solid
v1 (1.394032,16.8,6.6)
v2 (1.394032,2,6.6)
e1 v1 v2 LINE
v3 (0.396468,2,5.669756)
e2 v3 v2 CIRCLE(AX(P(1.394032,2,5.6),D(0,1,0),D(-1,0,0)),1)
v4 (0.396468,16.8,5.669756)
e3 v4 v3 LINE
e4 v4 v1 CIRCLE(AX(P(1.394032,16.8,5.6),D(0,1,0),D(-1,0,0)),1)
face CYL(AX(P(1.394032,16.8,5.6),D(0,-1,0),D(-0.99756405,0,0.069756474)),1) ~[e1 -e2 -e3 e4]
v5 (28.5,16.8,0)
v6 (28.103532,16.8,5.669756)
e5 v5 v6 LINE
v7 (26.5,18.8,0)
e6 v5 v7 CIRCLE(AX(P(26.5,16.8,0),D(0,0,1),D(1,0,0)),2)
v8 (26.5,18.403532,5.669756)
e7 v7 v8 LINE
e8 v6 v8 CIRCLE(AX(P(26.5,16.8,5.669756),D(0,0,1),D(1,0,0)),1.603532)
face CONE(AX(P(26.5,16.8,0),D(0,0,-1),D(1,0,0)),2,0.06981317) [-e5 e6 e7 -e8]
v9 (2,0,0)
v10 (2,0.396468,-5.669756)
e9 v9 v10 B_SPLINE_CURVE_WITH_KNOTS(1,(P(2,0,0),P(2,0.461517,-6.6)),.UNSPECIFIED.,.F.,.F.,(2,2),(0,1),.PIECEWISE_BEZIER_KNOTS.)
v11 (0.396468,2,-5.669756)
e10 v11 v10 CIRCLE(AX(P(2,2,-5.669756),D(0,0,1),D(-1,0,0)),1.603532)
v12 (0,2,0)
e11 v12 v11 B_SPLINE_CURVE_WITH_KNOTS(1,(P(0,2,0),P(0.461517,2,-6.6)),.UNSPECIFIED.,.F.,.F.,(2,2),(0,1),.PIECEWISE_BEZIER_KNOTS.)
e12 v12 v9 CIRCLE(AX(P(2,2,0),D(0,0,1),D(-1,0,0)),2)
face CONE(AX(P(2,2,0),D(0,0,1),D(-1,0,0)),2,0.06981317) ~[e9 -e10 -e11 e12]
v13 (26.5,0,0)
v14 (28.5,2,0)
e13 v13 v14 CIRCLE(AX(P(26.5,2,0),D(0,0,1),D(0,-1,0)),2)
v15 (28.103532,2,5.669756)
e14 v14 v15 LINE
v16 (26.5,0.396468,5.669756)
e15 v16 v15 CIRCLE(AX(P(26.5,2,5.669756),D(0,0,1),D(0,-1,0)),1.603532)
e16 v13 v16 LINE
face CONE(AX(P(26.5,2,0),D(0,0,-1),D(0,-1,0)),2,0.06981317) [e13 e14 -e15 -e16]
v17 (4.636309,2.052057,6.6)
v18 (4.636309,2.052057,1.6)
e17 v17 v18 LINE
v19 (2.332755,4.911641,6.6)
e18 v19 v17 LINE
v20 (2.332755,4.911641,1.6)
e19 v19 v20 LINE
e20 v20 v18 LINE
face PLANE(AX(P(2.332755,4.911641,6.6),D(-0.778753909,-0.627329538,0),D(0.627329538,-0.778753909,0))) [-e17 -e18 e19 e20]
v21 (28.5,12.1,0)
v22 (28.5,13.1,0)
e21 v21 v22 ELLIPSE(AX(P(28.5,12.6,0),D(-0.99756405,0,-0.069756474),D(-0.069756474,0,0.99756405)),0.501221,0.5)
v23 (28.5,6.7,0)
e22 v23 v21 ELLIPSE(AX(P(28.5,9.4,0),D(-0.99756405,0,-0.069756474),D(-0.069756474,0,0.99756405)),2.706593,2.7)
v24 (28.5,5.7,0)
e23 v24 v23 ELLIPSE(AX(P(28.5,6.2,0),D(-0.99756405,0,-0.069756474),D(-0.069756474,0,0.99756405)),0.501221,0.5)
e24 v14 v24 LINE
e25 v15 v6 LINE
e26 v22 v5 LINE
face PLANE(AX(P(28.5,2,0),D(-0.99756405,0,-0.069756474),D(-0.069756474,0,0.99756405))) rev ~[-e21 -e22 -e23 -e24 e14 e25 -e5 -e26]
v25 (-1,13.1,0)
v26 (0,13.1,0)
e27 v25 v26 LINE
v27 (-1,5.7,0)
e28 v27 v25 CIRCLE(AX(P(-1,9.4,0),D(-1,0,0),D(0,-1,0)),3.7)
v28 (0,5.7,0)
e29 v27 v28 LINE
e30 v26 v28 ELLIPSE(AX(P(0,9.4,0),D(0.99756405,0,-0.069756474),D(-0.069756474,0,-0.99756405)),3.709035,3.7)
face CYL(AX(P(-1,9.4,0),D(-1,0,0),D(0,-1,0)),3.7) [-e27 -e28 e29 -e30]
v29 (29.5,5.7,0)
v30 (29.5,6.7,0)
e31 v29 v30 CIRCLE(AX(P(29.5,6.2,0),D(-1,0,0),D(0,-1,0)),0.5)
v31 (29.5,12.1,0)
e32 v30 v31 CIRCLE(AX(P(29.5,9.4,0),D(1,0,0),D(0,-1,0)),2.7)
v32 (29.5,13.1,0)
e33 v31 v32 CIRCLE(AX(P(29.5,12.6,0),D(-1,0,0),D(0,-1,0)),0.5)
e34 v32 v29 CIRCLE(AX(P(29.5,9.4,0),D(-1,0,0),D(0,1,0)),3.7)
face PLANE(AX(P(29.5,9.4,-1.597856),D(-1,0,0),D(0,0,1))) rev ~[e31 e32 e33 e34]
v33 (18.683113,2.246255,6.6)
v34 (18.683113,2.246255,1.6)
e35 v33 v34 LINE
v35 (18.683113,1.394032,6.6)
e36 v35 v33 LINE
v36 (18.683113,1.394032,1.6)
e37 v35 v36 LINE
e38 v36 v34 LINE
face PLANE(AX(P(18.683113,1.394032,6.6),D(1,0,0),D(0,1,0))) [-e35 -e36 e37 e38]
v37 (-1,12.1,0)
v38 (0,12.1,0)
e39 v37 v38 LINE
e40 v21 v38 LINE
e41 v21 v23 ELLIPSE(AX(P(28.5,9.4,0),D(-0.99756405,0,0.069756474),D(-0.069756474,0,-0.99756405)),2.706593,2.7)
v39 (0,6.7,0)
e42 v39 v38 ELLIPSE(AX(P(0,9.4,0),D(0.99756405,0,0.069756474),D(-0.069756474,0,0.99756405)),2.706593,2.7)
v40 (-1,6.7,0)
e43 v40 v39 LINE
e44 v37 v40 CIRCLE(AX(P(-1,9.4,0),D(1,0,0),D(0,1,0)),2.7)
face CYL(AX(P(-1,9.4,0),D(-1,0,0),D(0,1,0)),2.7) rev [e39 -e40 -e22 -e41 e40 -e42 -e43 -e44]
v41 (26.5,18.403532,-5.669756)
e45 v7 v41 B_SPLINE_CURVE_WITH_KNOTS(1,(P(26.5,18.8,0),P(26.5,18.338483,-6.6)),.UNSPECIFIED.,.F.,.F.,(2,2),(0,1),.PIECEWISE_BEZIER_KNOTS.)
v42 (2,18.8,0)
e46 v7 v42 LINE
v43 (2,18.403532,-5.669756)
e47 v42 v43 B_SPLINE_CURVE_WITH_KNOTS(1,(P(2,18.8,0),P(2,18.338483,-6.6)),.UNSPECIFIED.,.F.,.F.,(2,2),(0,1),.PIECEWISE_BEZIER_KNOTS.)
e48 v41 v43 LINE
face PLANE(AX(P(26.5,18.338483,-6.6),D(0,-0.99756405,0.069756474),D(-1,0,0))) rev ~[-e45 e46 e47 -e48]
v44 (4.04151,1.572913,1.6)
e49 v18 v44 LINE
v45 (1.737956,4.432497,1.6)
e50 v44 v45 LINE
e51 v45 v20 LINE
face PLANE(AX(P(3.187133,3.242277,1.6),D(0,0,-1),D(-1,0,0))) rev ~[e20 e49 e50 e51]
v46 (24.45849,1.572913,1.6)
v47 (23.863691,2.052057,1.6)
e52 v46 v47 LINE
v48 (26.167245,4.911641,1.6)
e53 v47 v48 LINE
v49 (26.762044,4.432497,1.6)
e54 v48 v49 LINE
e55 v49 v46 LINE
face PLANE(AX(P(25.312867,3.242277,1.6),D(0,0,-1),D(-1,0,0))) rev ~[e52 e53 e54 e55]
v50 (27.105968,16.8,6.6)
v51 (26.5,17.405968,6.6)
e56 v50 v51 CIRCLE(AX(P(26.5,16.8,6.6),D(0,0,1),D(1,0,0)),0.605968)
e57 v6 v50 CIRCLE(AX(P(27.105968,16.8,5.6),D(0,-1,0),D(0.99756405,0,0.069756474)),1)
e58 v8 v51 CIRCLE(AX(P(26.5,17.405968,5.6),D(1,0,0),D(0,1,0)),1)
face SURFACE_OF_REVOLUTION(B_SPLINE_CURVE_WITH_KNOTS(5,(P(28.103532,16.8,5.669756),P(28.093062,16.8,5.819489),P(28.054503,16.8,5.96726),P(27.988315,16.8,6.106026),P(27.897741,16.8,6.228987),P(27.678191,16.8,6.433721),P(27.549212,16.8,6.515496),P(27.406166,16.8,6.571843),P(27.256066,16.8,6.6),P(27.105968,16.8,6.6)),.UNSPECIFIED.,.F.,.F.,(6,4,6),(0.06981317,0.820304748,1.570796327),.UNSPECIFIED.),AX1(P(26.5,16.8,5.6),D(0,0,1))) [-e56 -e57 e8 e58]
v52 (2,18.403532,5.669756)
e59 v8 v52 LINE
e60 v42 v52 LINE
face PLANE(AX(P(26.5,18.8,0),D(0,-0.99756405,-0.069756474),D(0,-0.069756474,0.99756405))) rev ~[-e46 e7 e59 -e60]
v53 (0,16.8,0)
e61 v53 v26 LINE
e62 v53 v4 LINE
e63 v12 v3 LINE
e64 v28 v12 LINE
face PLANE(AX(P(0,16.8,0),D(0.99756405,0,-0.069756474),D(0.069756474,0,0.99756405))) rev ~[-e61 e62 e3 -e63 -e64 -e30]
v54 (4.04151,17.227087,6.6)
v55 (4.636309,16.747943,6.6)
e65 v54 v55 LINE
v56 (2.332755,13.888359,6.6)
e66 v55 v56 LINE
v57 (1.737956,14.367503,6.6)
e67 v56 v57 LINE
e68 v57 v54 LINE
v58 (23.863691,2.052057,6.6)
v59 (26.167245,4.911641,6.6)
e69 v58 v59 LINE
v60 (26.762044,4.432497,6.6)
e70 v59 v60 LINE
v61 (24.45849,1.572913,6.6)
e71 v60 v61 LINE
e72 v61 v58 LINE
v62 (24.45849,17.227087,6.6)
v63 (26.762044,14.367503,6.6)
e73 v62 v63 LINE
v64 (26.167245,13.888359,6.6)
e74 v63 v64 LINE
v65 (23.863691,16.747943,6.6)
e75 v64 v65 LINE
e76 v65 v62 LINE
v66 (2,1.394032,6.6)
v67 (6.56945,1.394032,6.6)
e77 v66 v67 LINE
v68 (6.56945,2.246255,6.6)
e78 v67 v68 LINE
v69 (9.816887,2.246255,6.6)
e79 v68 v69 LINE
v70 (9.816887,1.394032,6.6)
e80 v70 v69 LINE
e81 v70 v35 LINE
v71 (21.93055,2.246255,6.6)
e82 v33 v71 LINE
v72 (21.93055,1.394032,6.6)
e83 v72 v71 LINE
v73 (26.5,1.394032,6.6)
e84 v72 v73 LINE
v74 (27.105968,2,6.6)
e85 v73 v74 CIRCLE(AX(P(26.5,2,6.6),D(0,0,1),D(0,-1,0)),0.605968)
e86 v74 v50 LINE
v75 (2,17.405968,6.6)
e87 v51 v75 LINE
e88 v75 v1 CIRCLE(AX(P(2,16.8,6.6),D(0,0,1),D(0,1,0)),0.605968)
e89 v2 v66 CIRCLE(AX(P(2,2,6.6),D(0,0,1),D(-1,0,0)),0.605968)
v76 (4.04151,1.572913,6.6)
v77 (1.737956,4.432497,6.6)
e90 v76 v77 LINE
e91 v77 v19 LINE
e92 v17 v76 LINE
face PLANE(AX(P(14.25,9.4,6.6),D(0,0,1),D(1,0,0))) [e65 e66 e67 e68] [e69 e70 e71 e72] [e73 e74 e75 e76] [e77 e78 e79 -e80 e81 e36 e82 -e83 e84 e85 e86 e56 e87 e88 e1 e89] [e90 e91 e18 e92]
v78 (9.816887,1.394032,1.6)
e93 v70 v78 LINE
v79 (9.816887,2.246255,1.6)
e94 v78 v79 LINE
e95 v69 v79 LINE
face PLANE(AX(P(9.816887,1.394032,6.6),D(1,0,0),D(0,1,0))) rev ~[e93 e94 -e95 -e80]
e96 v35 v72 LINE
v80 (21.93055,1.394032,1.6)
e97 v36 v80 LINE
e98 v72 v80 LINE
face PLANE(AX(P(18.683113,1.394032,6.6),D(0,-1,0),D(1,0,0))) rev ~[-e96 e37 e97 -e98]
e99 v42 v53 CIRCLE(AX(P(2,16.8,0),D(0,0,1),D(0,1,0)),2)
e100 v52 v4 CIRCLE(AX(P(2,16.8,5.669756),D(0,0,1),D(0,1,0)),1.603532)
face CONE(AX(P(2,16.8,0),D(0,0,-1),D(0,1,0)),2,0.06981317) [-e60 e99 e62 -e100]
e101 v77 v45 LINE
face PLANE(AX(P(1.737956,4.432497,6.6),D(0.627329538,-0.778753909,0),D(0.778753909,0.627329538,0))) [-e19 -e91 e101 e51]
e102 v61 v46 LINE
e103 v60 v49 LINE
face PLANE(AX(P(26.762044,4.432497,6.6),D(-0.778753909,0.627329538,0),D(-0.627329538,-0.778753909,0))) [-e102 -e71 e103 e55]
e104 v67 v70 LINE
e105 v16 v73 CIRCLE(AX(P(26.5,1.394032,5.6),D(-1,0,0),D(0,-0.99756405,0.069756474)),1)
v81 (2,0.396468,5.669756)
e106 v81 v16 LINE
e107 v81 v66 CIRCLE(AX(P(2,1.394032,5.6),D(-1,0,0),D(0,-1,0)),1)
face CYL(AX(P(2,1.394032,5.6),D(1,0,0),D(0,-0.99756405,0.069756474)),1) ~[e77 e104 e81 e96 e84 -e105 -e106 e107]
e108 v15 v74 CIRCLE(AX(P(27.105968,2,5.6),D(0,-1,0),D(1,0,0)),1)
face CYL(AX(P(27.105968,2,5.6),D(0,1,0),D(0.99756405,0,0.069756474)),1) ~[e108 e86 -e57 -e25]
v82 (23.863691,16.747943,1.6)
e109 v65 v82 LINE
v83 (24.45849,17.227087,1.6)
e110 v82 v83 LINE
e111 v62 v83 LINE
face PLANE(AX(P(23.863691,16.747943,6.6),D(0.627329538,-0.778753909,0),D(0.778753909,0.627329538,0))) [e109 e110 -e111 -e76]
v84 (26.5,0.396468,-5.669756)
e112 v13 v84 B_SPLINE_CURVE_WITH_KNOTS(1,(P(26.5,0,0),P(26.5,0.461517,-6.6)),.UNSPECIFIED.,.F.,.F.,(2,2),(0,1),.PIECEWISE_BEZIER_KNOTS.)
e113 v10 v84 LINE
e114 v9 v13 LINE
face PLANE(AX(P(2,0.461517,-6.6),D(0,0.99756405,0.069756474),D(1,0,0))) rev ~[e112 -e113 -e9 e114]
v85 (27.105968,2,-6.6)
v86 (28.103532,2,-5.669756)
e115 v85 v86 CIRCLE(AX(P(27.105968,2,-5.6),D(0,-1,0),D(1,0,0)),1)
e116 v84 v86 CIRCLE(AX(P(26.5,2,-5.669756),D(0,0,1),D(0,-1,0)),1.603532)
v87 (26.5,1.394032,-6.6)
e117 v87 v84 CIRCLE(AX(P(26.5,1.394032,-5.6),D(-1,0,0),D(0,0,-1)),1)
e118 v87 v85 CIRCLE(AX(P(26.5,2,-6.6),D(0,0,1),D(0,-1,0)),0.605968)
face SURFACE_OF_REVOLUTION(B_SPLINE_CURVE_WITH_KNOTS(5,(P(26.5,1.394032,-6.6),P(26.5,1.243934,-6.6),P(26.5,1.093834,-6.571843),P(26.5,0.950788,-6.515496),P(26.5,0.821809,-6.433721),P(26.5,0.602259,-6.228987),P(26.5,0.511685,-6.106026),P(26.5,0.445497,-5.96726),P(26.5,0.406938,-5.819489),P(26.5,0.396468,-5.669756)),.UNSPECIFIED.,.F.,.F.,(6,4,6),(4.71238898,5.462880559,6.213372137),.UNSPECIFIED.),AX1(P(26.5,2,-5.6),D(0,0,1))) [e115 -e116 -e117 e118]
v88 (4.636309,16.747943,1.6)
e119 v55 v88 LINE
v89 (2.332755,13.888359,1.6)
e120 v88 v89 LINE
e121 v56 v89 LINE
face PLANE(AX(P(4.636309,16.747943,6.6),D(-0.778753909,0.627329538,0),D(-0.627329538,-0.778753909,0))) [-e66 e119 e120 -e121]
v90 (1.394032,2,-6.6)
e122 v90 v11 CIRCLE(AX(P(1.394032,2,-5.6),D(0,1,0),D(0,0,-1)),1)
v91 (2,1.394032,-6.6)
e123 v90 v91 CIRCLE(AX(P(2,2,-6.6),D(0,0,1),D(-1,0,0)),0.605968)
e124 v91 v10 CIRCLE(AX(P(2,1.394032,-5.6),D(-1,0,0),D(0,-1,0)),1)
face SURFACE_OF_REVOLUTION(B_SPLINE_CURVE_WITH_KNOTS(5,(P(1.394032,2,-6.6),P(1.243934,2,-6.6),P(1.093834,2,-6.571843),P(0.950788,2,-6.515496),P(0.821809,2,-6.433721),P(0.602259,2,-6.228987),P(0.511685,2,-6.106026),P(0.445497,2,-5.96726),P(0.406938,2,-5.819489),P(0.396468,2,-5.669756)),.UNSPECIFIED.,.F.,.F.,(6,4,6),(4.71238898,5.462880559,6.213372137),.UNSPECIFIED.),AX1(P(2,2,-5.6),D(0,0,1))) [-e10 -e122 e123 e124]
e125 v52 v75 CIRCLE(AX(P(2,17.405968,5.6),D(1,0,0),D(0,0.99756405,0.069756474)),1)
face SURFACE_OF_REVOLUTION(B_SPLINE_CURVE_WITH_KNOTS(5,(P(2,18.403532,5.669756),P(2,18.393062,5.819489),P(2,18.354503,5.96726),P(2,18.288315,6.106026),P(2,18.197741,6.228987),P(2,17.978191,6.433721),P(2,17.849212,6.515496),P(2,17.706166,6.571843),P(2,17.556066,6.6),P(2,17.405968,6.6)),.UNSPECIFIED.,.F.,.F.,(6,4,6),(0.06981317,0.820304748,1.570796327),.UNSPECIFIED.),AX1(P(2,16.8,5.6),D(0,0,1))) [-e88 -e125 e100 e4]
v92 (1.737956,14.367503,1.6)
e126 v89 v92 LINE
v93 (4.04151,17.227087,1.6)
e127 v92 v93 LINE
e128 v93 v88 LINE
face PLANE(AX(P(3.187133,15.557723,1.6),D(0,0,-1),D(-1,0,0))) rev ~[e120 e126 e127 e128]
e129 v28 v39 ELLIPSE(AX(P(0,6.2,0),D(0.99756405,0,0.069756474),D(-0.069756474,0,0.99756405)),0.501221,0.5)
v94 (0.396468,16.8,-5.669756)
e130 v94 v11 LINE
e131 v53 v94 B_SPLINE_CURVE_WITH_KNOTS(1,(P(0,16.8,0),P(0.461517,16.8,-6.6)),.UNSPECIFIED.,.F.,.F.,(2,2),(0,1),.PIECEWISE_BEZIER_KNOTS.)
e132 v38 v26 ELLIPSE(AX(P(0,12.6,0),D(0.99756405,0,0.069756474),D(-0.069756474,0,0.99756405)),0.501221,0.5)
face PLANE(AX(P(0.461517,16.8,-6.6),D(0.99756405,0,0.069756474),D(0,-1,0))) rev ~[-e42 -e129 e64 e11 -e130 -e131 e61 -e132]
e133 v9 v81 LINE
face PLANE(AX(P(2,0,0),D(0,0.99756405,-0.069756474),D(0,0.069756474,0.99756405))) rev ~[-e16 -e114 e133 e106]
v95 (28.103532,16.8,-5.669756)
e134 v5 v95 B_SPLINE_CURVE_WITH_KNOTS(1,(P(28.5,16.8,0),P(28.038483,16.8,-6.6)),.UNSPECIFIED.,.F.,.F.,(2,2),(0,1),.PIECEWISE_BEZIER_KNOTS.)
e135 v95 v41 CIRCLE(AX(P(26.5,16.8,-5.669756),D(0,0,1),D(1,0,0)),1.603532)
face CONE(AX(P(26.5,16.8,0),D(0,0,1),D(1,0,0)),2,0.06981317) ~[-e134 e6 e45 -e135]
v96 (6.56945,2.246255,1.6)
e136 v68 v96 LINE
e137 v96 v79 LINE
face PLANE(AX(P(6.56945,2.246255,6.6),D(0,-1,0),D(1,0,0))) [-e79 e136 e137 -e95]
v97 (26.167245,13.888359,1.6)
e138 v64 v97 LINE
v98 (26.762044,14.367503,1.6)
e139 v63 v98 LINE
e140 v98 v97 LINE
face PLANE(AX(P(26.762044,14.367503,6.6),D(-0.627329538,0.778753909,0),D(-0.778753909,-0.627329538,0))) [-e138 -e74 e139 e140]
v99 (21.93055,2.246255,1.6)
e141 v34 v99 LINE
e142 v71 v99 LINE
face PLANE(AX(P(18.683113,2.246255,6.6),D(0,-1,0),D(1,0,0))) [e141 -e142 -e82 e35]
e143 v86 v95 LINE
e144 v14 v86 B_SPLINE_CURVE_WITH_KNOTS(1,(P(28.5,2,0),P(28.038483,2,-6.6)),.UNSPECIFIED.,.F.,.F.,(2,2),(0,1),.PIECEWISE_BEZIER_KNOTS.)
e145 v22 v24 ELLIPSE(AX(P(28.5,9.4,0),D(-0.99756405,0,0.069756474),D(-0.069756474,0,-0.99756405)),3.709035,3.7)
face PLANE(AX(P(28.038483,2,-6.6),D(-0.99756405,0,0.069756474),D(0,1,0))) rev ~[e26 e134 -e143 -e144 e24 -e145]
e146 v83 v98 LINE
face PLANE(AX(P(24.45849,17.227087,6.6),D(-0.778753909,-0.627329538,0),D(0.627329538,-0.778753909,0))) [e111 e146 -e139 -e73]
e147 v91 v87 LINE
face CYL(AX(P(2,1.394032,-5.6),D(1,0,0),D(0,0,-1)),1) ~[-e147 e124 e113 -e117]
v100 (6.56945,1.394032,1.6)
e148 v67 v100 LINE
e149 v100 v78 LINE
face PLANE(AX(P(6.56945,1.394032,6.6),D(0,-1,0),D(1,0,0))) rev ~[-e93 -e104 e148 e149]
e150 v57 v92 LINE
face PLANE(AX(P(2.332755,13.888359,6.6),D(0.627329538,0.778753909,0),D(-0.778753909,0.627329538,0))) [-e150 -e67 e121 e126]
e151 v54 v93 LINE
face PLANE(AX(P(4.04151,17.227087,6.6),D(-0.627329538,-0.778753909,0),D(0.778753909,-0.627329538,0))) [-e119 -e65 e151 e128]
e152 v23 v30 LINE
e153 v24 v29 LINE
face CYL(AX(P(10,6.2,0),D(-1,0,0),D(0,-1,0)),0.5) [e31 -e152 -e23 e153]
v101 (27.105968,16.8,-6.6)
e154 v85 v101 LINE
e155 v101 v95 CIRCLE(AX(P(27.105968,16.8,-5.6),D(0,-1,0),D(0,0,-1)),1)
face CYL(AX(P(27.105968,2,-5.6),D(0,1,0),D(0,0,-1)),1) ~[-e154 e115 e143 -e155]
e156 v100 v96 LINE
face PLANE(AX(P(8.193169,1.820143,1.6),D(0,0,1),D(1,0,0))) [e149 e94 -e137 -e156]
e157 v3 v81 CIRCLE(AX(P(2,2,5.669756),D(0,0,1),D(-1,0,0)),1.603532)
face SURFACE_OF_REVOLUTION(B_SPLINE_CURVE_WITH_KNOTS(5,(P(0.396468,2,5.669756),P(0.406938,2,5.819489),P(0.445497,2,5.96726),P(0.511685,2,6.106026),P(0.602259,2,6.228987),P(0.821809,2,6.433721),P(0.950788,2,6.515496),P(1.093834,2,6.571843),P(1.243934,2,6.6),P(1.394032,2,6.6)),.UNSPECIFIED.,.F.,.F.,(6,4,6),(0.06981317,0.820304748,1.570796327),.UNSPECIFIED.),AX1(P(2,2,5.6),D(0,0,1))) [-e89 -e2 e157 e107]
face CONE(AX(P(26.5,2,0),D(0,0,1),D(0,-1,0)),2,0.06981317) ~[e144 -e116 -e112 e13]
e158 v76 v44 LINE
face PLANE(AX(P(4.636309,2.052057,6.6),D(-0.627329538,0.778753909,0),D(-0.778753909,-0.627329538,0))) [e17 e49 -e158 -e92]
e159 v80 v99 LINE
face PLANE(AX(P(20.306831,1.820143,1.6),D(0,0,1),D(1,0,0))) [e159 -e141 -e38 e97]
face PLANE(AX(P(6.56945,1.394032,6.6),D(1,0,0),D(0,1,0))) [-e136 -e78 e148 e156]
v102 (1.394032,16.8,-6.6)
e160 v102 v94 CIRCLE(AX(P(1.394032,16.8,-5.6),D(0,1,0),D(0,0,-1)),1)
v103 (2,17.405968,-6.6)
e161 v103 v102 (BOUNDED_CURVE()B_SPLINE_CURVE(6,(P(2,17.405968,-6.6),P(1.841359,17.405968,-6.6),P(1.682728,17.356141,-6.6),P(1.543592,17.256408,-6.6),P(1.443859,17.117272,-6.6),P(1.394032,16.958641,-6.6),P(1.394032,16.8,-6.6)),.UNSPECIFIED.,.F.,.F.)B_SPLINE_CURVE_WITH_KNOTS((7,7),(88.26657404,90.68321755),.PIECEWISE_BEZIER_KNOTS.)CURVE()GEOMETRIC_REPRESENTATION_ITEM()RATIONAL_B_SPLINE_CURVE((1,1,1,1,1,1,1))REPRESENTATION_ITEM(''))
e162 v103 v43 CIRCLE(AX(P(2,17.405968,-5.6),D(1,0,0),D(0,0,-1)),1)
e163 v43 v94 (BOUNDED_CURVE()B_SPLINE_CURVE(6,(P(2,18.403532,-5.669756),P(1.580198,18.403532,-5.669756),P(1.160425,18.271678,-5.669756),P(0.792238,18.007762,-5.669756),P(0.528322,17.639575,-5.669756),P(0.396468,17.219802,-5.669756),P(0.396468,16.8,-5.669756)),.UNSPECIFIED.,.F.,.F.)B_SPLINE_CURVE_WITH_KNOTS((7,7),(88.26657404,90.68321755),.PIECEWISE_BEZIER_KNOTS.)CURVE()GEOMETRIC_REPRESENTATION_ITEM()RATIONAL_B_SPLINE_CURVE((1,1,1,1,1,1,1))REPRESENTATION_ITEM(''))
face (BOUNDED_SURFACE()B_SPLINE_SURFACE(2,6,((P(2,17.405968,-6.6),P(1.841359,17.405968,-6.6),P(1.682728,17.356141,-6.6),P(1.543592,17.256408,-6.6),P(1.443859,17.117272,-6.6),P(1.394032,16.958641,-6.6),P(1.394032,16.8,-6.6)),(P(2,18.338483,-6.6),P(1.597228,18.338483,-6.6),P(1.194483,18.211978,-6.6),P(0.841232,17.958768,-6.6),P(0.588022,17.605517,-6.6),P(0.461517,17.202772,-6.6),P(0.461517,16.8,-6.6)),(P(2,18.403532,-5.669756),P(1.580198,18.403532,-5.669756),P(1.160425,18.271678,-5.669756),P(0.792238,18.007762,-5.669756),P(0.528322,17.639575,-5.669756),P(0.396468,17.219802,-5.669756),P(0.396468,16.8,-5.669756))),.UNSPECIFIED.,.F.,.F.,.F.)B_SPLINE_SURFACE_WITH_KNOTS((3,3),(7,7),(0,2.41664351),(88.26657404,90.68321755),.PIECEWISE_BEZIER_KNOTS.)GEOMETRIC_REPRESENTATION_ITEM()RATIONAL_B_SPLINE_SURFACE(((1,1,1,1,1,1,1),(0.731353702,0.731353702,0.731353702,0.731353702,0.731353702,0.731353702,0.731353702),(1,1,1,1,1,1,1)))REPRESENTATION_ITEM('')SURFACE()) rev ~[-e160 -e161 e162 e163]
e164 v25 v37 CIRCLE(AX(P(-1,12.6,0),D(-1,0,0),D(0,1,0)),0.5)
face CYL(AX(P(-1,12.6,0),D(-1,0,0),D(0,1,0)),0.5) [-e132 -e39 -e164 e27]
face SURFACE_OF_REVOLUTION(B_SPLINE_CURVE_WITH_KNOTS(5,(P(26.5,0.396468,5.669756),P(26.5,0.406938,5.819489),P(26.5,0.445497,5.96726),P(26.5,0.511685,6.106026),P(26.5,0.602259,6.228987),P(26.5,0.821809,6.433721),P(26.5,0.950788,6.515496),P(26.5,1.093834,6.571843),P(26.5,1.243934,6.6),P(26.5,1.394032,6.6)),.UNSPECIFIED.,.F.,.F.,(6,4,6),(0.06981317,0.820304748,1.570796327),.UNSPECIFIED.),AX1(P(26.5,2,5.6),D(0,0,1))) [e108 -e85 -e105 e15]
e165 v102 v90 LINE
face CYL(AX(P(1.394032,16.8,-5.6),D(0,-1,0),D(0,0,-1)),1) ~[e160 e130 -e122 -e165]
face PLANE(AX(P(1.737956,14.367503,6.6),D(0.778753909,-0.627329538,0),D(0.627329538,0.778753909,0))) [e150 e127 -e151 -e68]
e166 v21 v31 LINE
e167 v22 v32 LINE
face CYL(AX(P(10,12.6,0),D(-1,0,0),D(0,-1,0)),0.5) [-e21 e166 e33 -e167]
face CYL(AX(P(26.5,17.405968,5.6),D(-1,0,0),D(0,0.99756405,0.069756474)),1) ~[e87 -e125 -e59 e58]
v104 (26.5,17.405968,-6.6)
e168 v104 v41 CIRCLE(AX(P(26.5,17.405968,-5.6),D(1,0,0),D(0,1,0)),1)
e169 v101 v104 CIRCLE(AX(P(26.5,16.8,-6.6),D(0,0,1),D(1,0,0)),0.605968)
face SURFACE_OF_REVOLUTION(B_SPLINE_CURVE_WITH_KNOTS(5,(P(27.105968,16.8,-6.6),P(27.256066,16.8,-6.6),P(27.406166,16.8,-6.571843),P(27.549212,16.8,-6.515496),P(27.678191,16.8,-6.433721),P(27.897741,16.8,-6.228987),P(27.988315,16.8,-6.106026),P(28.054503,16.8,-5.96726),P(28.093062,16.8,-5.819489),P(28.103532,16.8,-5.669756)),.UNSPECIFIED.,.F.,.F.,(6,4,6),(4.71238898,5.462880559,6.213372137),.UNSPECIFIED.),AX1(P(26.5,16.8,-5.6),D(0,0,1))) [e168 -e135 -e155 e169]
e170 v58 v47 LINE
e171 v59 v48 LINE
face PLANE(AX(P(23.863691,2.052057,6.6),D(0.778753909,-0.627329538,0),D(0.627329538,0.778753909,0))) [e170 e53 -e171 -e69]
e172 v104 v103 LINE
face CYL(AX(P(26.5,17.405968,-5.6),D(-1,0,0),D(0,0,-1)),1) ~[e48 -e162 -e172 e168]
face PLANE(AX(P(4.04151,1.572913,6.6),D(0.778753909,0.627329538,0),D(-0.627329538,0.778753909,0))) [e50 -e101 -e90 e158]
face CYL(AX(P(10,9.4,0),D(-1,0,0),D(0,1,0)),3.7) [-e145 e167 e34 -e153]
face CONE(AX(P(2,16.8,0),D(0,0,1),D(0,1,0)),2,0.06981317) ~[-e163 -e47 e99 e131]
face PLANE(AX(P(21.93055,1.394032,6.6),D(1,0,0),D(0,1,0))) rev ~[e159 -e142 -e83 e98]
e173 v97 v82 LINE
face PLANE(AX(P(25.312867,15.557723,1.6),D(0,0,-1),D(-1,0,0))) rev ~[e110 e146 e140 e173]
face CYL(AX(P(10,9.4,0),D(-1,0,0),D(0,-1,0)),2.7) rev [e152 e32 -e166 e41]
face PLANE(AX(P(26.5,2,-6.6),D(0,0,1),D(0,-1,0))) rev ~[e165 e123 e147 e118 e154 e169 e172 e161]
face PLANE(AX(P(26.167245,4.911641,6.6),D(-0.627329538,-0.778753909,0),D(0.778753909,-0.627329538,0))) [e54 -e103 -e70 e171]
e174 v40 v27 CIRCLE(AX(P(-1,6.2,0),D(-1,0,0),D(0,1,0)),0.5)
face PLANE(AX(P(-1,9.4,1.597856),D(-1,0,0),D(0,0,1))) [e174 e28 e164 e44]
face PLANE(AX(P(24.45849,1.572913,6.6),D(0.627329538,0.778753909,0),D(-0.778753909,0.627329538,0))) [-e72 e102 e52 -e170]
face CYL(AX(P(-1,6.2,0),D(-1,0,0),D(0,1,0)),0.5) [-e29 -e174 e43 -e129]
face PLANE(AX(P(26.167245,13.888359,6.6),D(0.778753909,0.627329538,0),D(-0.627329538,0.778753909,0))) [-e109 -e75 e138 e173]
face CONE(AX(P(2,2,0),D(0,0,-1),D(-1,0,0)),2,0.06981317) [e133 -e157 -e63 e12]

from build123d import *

# Parameters (mm, degrees)
EXTRUSION1_DEPTH           = 6.6
EXTRUSION1_TAPER           = 4.000000000000009
EXTRUSION1_OTHER_WAY_DEPTH = 6.6
EXTRUSION1_OTHER_WAY_TAPER = 4.000000000000009
CONG_1_R                   = 1
ESQUISSE2_R                = 2.7
ENL_V_MAT_EXTRU_1_DEPTH    = 35.77427225377981
EXTRUSION2_START           = -11
EXTRUSION2_DEPTH           = 11
EXTRUSION3_DEPTH           = 19.5
ESQUISSE5_W                = 3.2474365518074073
ESQUISSE5_H                = 0.8522228738252646
ESQUISSE5_W_2              = 3.247436551807409
EXTRUSION4_DEPTH           = 5


with BuildPart() as part:
    # Esquisse1 → Extrusion1 (new body)
    with BuildSketch(Plane.XY):
        with BuildLine():
            Line((2.000000000000013, 0), (26.500000000000004, 0))
            ThreePointArc((26.500000000000004, 0), (27.9142135623731, 0.5857864376269051), (28.500000000000004, 2.0000000000000004))
            Line((28.500000000000004, 2.0000000000000004), (28.499999999999996, 16.8))
            ThreePointArc((28.499999999999996, 16.8), (27.914213562373096, 18.2142135623731), (26.499999999999996, 18.800000000000004))
            Line((26.499999999999996, 18.800000000000004), (2, 18.800000000000004))
            ThreePointArc((2, 18.800000000000004), (0.5857864376269051, 18.214213562373097), (0, 16.8))
            Line((0, 16.8), (-6.3e-16, 2.000000000000013))
            ThreePointArc((-6.3e-16, 2.000000000000013), (0.5857864376269053, 0.5857864376269042), (2.000000000000013, 0))
        make_face()
    extrude(amount=EXTRUSION1_DEPTH, taper=EXTRUSION1_TAPER)

    # Esquisse1 → Extrusion1 other way (add)
    with BuildSketch(Plane.XY):
        with BuildLine():
            Line((2.000000000000013, 0), (26.500000000000004, 0))
            ThreePointArc((26.500000000000004, 0), (27.9142135623731, 0.5857864376269051), (28.500000000000004, 2.0000000000000004))
            Line((28.500000000000004, 2.0000000000000004), (28.499999999999996, 16.8))
            ThreePointArc((28.499999999999996, 16.8), (27.914213562373096, 18.2142135623731), (26.499999999999996, 18.800000000000004))
            Line((26.499999999999996, 18.800000000000004), (2, 18.800000000000004))
            ThreePointArc((2, 18.800000000000004), (0.5857864376269051, 18.214213562373097), (0, 16.8))
            Line((0, 16.8), (-6.3e-16, 2.000000000000013))
            ThreePointArc((-6.3e-16, 2.000000000000013), (0.5857864376269053, 0.5857864376269042), (2.000000000000013, 0))
        make_face()
    extrude(amount=-EXTRUSION1_OTHER_WAY_DEPTH, taper=EXTRUSION1_OTHER_WAY_TAPER)

    # Congé1
    cong_1_edges = [part.edges().sort_by_distance(p)[0] for p in [
        (0.9121282088461893, 0.9121282088461893, 6.6),
        (14.250000000000007, 0.46151695882717014, 6.6000000000000005),
        (27.587871791153816, 0.9121282088461893, 6.6),
        (28.03848304117283, 9.4, 6.6000000000000005),
        (27.587871791153812, 17.887871791153817, 6.6),
        (14.25, 18.338483041172836, 6.6000000000000005),
        (0.9121282088461911, 17.887871791153813, -6.6),
        (14.250000000000005, 18.338483041172836, -6.6),
        (27.587871791153812, 17.887871791153813, -6.6),
        (28.03848304117283, 9.400000000000006, -6.6),
        (27.587871791153816, 0.9121282088461875, -6.6),
        (14.250000000000004, 0.46151695882717014, -6.6),
        (0.9121282088461893, 0.9121282088461893, -6.6),
        (0.46151695882717014, 9.4, -6.6),
        (0.9121282088461893, 17.887871791153813, 6.6),
        (0.46151695882717014, 9.400000000000006, 6.6000000000000005),
    ]]
    fillet(cong_1_edges, radius=CONG_1_R)

    # Esquisse2 → Enlèv. mat.-Extru.1 (cut, through all)
    with BuildSketch(Plane(origin=(0, 0, 0), x_dir=(0, 0, -1), z_dir=(1, 0, 0))):
        with Locations(Location((0, 9.40000000000001, 0), (0, 0, 90))):
            Circle(ESQUISSE2_R)
    extrude(amount=ENL_V_MAT_EXTRU_1_DEPTH, mode=Mode.SUBTRACT)

    # Esquisse3 → Extrusion2 (add)
    with BuildSketch(Plane(origin=(10, 0, 0), x_dir=(0, 0, -1), z_dir=(1, 0, 0)).offset(EXTRUSION2_START)):
        with BuildLine():
            ThreePointArc((0, 12.100000000000007), (-2.6999999999999975, 9.400000000000007), (6.16e-15, 6.700000000000009))
            ThreePointArc((6.16e-15, 6.700000000000009), (0.5000000000000038, 6.200000000000009), (5.89e-15, 5.700000000000011))
            ThreePointArc((5.89e-15, 5.700000000000011), (-3.6999999999999975, 9.400000000000006), (2.3e-16, 13.100000000000007))
            ThreePointArc((2.3e-16, 13.100000000000007), (0.4999999999999991, 12.600000000000007), (0, 12.100000000000007))
        make_face()
    extrude(amount=EXTRUSION2_DEPTH)

    # Esquisse4 → Extrusion3 (add)
    with BuildSketch(Plane(origin=(10, 0, 0), x_dir=(0, 0, -1), z_dir=(1, 0, 0))):
        with BuildLine():
            ThreePointArc((0, 6.700000000000006), (2.700000000000003, 9.400000000000043), (-6.772e-14, 12.10000000000001))
            ThreePointArc((-6.772e-14, 12.10000000000001), (-0.5000000000000799, 12.6), (-9.088e-14, 13.10000000000001))
            ThreePointArc((-9.088e-14, 13.10000000000001), (3.700000000000002, 9.400000000000054), (-6.8e-16, 5.700000000000007))
            ThreePointArc((-6.8e-16, 5.700000000000007), (-0.5000000000000002, 6.200000000000007), (0, 6.700000000000006))
        make_face()
    extrude(amount=EXTRUSION3_DEPTH)

    # Esquisse5 → Extrusion4 (cut)
    with BuildSketch(Plane.XY.offset(6.6)):
        with Locations((20.306831390499674, 1.820143481877461)):
            Rectangle(ESQUISSE5_W, ESQUISSE5_H)
        with Locations((8.193168609500333, 1.820143481877461)):
            Rectangle(ESQUISSE5_W_2, ESQUISSE5_H)
        Polygon((1.7379562995508964, 14.367502834636706), (4.041510066838186, 17.227086821613987), (4.636308888649757, 16.74794332626577), (2.3327551213624673, 13.888359339288488), align=None)
        Polygon((2.3327551213624673, 4.911640660711529), (4.636308888649757, 2.052056673734249), (4.041510066838186, 1.5729131783860304), (1.7379562995508964, 4.432497165363312), align=None)
        Polygon((26.762043700449112, 4.43249716536331), (24.45848993316182, 1.5729131783860304), (23.863691111350253, 2.0520566737342487), (26.16724487863754, 4.9116406607115275), align=None)
        Polygon((26.16724487863754, 13.888359339288483), (23.863691111350253, 16.747943326265762), (24.45848993316182, 17.227086821613973), (26.762043700449112, 14.3675028346367), align=None)
    extrude(amount=-EXTRUSION4_DEPTH, mode=Mode.SUBTRACT)


solid = part.part
